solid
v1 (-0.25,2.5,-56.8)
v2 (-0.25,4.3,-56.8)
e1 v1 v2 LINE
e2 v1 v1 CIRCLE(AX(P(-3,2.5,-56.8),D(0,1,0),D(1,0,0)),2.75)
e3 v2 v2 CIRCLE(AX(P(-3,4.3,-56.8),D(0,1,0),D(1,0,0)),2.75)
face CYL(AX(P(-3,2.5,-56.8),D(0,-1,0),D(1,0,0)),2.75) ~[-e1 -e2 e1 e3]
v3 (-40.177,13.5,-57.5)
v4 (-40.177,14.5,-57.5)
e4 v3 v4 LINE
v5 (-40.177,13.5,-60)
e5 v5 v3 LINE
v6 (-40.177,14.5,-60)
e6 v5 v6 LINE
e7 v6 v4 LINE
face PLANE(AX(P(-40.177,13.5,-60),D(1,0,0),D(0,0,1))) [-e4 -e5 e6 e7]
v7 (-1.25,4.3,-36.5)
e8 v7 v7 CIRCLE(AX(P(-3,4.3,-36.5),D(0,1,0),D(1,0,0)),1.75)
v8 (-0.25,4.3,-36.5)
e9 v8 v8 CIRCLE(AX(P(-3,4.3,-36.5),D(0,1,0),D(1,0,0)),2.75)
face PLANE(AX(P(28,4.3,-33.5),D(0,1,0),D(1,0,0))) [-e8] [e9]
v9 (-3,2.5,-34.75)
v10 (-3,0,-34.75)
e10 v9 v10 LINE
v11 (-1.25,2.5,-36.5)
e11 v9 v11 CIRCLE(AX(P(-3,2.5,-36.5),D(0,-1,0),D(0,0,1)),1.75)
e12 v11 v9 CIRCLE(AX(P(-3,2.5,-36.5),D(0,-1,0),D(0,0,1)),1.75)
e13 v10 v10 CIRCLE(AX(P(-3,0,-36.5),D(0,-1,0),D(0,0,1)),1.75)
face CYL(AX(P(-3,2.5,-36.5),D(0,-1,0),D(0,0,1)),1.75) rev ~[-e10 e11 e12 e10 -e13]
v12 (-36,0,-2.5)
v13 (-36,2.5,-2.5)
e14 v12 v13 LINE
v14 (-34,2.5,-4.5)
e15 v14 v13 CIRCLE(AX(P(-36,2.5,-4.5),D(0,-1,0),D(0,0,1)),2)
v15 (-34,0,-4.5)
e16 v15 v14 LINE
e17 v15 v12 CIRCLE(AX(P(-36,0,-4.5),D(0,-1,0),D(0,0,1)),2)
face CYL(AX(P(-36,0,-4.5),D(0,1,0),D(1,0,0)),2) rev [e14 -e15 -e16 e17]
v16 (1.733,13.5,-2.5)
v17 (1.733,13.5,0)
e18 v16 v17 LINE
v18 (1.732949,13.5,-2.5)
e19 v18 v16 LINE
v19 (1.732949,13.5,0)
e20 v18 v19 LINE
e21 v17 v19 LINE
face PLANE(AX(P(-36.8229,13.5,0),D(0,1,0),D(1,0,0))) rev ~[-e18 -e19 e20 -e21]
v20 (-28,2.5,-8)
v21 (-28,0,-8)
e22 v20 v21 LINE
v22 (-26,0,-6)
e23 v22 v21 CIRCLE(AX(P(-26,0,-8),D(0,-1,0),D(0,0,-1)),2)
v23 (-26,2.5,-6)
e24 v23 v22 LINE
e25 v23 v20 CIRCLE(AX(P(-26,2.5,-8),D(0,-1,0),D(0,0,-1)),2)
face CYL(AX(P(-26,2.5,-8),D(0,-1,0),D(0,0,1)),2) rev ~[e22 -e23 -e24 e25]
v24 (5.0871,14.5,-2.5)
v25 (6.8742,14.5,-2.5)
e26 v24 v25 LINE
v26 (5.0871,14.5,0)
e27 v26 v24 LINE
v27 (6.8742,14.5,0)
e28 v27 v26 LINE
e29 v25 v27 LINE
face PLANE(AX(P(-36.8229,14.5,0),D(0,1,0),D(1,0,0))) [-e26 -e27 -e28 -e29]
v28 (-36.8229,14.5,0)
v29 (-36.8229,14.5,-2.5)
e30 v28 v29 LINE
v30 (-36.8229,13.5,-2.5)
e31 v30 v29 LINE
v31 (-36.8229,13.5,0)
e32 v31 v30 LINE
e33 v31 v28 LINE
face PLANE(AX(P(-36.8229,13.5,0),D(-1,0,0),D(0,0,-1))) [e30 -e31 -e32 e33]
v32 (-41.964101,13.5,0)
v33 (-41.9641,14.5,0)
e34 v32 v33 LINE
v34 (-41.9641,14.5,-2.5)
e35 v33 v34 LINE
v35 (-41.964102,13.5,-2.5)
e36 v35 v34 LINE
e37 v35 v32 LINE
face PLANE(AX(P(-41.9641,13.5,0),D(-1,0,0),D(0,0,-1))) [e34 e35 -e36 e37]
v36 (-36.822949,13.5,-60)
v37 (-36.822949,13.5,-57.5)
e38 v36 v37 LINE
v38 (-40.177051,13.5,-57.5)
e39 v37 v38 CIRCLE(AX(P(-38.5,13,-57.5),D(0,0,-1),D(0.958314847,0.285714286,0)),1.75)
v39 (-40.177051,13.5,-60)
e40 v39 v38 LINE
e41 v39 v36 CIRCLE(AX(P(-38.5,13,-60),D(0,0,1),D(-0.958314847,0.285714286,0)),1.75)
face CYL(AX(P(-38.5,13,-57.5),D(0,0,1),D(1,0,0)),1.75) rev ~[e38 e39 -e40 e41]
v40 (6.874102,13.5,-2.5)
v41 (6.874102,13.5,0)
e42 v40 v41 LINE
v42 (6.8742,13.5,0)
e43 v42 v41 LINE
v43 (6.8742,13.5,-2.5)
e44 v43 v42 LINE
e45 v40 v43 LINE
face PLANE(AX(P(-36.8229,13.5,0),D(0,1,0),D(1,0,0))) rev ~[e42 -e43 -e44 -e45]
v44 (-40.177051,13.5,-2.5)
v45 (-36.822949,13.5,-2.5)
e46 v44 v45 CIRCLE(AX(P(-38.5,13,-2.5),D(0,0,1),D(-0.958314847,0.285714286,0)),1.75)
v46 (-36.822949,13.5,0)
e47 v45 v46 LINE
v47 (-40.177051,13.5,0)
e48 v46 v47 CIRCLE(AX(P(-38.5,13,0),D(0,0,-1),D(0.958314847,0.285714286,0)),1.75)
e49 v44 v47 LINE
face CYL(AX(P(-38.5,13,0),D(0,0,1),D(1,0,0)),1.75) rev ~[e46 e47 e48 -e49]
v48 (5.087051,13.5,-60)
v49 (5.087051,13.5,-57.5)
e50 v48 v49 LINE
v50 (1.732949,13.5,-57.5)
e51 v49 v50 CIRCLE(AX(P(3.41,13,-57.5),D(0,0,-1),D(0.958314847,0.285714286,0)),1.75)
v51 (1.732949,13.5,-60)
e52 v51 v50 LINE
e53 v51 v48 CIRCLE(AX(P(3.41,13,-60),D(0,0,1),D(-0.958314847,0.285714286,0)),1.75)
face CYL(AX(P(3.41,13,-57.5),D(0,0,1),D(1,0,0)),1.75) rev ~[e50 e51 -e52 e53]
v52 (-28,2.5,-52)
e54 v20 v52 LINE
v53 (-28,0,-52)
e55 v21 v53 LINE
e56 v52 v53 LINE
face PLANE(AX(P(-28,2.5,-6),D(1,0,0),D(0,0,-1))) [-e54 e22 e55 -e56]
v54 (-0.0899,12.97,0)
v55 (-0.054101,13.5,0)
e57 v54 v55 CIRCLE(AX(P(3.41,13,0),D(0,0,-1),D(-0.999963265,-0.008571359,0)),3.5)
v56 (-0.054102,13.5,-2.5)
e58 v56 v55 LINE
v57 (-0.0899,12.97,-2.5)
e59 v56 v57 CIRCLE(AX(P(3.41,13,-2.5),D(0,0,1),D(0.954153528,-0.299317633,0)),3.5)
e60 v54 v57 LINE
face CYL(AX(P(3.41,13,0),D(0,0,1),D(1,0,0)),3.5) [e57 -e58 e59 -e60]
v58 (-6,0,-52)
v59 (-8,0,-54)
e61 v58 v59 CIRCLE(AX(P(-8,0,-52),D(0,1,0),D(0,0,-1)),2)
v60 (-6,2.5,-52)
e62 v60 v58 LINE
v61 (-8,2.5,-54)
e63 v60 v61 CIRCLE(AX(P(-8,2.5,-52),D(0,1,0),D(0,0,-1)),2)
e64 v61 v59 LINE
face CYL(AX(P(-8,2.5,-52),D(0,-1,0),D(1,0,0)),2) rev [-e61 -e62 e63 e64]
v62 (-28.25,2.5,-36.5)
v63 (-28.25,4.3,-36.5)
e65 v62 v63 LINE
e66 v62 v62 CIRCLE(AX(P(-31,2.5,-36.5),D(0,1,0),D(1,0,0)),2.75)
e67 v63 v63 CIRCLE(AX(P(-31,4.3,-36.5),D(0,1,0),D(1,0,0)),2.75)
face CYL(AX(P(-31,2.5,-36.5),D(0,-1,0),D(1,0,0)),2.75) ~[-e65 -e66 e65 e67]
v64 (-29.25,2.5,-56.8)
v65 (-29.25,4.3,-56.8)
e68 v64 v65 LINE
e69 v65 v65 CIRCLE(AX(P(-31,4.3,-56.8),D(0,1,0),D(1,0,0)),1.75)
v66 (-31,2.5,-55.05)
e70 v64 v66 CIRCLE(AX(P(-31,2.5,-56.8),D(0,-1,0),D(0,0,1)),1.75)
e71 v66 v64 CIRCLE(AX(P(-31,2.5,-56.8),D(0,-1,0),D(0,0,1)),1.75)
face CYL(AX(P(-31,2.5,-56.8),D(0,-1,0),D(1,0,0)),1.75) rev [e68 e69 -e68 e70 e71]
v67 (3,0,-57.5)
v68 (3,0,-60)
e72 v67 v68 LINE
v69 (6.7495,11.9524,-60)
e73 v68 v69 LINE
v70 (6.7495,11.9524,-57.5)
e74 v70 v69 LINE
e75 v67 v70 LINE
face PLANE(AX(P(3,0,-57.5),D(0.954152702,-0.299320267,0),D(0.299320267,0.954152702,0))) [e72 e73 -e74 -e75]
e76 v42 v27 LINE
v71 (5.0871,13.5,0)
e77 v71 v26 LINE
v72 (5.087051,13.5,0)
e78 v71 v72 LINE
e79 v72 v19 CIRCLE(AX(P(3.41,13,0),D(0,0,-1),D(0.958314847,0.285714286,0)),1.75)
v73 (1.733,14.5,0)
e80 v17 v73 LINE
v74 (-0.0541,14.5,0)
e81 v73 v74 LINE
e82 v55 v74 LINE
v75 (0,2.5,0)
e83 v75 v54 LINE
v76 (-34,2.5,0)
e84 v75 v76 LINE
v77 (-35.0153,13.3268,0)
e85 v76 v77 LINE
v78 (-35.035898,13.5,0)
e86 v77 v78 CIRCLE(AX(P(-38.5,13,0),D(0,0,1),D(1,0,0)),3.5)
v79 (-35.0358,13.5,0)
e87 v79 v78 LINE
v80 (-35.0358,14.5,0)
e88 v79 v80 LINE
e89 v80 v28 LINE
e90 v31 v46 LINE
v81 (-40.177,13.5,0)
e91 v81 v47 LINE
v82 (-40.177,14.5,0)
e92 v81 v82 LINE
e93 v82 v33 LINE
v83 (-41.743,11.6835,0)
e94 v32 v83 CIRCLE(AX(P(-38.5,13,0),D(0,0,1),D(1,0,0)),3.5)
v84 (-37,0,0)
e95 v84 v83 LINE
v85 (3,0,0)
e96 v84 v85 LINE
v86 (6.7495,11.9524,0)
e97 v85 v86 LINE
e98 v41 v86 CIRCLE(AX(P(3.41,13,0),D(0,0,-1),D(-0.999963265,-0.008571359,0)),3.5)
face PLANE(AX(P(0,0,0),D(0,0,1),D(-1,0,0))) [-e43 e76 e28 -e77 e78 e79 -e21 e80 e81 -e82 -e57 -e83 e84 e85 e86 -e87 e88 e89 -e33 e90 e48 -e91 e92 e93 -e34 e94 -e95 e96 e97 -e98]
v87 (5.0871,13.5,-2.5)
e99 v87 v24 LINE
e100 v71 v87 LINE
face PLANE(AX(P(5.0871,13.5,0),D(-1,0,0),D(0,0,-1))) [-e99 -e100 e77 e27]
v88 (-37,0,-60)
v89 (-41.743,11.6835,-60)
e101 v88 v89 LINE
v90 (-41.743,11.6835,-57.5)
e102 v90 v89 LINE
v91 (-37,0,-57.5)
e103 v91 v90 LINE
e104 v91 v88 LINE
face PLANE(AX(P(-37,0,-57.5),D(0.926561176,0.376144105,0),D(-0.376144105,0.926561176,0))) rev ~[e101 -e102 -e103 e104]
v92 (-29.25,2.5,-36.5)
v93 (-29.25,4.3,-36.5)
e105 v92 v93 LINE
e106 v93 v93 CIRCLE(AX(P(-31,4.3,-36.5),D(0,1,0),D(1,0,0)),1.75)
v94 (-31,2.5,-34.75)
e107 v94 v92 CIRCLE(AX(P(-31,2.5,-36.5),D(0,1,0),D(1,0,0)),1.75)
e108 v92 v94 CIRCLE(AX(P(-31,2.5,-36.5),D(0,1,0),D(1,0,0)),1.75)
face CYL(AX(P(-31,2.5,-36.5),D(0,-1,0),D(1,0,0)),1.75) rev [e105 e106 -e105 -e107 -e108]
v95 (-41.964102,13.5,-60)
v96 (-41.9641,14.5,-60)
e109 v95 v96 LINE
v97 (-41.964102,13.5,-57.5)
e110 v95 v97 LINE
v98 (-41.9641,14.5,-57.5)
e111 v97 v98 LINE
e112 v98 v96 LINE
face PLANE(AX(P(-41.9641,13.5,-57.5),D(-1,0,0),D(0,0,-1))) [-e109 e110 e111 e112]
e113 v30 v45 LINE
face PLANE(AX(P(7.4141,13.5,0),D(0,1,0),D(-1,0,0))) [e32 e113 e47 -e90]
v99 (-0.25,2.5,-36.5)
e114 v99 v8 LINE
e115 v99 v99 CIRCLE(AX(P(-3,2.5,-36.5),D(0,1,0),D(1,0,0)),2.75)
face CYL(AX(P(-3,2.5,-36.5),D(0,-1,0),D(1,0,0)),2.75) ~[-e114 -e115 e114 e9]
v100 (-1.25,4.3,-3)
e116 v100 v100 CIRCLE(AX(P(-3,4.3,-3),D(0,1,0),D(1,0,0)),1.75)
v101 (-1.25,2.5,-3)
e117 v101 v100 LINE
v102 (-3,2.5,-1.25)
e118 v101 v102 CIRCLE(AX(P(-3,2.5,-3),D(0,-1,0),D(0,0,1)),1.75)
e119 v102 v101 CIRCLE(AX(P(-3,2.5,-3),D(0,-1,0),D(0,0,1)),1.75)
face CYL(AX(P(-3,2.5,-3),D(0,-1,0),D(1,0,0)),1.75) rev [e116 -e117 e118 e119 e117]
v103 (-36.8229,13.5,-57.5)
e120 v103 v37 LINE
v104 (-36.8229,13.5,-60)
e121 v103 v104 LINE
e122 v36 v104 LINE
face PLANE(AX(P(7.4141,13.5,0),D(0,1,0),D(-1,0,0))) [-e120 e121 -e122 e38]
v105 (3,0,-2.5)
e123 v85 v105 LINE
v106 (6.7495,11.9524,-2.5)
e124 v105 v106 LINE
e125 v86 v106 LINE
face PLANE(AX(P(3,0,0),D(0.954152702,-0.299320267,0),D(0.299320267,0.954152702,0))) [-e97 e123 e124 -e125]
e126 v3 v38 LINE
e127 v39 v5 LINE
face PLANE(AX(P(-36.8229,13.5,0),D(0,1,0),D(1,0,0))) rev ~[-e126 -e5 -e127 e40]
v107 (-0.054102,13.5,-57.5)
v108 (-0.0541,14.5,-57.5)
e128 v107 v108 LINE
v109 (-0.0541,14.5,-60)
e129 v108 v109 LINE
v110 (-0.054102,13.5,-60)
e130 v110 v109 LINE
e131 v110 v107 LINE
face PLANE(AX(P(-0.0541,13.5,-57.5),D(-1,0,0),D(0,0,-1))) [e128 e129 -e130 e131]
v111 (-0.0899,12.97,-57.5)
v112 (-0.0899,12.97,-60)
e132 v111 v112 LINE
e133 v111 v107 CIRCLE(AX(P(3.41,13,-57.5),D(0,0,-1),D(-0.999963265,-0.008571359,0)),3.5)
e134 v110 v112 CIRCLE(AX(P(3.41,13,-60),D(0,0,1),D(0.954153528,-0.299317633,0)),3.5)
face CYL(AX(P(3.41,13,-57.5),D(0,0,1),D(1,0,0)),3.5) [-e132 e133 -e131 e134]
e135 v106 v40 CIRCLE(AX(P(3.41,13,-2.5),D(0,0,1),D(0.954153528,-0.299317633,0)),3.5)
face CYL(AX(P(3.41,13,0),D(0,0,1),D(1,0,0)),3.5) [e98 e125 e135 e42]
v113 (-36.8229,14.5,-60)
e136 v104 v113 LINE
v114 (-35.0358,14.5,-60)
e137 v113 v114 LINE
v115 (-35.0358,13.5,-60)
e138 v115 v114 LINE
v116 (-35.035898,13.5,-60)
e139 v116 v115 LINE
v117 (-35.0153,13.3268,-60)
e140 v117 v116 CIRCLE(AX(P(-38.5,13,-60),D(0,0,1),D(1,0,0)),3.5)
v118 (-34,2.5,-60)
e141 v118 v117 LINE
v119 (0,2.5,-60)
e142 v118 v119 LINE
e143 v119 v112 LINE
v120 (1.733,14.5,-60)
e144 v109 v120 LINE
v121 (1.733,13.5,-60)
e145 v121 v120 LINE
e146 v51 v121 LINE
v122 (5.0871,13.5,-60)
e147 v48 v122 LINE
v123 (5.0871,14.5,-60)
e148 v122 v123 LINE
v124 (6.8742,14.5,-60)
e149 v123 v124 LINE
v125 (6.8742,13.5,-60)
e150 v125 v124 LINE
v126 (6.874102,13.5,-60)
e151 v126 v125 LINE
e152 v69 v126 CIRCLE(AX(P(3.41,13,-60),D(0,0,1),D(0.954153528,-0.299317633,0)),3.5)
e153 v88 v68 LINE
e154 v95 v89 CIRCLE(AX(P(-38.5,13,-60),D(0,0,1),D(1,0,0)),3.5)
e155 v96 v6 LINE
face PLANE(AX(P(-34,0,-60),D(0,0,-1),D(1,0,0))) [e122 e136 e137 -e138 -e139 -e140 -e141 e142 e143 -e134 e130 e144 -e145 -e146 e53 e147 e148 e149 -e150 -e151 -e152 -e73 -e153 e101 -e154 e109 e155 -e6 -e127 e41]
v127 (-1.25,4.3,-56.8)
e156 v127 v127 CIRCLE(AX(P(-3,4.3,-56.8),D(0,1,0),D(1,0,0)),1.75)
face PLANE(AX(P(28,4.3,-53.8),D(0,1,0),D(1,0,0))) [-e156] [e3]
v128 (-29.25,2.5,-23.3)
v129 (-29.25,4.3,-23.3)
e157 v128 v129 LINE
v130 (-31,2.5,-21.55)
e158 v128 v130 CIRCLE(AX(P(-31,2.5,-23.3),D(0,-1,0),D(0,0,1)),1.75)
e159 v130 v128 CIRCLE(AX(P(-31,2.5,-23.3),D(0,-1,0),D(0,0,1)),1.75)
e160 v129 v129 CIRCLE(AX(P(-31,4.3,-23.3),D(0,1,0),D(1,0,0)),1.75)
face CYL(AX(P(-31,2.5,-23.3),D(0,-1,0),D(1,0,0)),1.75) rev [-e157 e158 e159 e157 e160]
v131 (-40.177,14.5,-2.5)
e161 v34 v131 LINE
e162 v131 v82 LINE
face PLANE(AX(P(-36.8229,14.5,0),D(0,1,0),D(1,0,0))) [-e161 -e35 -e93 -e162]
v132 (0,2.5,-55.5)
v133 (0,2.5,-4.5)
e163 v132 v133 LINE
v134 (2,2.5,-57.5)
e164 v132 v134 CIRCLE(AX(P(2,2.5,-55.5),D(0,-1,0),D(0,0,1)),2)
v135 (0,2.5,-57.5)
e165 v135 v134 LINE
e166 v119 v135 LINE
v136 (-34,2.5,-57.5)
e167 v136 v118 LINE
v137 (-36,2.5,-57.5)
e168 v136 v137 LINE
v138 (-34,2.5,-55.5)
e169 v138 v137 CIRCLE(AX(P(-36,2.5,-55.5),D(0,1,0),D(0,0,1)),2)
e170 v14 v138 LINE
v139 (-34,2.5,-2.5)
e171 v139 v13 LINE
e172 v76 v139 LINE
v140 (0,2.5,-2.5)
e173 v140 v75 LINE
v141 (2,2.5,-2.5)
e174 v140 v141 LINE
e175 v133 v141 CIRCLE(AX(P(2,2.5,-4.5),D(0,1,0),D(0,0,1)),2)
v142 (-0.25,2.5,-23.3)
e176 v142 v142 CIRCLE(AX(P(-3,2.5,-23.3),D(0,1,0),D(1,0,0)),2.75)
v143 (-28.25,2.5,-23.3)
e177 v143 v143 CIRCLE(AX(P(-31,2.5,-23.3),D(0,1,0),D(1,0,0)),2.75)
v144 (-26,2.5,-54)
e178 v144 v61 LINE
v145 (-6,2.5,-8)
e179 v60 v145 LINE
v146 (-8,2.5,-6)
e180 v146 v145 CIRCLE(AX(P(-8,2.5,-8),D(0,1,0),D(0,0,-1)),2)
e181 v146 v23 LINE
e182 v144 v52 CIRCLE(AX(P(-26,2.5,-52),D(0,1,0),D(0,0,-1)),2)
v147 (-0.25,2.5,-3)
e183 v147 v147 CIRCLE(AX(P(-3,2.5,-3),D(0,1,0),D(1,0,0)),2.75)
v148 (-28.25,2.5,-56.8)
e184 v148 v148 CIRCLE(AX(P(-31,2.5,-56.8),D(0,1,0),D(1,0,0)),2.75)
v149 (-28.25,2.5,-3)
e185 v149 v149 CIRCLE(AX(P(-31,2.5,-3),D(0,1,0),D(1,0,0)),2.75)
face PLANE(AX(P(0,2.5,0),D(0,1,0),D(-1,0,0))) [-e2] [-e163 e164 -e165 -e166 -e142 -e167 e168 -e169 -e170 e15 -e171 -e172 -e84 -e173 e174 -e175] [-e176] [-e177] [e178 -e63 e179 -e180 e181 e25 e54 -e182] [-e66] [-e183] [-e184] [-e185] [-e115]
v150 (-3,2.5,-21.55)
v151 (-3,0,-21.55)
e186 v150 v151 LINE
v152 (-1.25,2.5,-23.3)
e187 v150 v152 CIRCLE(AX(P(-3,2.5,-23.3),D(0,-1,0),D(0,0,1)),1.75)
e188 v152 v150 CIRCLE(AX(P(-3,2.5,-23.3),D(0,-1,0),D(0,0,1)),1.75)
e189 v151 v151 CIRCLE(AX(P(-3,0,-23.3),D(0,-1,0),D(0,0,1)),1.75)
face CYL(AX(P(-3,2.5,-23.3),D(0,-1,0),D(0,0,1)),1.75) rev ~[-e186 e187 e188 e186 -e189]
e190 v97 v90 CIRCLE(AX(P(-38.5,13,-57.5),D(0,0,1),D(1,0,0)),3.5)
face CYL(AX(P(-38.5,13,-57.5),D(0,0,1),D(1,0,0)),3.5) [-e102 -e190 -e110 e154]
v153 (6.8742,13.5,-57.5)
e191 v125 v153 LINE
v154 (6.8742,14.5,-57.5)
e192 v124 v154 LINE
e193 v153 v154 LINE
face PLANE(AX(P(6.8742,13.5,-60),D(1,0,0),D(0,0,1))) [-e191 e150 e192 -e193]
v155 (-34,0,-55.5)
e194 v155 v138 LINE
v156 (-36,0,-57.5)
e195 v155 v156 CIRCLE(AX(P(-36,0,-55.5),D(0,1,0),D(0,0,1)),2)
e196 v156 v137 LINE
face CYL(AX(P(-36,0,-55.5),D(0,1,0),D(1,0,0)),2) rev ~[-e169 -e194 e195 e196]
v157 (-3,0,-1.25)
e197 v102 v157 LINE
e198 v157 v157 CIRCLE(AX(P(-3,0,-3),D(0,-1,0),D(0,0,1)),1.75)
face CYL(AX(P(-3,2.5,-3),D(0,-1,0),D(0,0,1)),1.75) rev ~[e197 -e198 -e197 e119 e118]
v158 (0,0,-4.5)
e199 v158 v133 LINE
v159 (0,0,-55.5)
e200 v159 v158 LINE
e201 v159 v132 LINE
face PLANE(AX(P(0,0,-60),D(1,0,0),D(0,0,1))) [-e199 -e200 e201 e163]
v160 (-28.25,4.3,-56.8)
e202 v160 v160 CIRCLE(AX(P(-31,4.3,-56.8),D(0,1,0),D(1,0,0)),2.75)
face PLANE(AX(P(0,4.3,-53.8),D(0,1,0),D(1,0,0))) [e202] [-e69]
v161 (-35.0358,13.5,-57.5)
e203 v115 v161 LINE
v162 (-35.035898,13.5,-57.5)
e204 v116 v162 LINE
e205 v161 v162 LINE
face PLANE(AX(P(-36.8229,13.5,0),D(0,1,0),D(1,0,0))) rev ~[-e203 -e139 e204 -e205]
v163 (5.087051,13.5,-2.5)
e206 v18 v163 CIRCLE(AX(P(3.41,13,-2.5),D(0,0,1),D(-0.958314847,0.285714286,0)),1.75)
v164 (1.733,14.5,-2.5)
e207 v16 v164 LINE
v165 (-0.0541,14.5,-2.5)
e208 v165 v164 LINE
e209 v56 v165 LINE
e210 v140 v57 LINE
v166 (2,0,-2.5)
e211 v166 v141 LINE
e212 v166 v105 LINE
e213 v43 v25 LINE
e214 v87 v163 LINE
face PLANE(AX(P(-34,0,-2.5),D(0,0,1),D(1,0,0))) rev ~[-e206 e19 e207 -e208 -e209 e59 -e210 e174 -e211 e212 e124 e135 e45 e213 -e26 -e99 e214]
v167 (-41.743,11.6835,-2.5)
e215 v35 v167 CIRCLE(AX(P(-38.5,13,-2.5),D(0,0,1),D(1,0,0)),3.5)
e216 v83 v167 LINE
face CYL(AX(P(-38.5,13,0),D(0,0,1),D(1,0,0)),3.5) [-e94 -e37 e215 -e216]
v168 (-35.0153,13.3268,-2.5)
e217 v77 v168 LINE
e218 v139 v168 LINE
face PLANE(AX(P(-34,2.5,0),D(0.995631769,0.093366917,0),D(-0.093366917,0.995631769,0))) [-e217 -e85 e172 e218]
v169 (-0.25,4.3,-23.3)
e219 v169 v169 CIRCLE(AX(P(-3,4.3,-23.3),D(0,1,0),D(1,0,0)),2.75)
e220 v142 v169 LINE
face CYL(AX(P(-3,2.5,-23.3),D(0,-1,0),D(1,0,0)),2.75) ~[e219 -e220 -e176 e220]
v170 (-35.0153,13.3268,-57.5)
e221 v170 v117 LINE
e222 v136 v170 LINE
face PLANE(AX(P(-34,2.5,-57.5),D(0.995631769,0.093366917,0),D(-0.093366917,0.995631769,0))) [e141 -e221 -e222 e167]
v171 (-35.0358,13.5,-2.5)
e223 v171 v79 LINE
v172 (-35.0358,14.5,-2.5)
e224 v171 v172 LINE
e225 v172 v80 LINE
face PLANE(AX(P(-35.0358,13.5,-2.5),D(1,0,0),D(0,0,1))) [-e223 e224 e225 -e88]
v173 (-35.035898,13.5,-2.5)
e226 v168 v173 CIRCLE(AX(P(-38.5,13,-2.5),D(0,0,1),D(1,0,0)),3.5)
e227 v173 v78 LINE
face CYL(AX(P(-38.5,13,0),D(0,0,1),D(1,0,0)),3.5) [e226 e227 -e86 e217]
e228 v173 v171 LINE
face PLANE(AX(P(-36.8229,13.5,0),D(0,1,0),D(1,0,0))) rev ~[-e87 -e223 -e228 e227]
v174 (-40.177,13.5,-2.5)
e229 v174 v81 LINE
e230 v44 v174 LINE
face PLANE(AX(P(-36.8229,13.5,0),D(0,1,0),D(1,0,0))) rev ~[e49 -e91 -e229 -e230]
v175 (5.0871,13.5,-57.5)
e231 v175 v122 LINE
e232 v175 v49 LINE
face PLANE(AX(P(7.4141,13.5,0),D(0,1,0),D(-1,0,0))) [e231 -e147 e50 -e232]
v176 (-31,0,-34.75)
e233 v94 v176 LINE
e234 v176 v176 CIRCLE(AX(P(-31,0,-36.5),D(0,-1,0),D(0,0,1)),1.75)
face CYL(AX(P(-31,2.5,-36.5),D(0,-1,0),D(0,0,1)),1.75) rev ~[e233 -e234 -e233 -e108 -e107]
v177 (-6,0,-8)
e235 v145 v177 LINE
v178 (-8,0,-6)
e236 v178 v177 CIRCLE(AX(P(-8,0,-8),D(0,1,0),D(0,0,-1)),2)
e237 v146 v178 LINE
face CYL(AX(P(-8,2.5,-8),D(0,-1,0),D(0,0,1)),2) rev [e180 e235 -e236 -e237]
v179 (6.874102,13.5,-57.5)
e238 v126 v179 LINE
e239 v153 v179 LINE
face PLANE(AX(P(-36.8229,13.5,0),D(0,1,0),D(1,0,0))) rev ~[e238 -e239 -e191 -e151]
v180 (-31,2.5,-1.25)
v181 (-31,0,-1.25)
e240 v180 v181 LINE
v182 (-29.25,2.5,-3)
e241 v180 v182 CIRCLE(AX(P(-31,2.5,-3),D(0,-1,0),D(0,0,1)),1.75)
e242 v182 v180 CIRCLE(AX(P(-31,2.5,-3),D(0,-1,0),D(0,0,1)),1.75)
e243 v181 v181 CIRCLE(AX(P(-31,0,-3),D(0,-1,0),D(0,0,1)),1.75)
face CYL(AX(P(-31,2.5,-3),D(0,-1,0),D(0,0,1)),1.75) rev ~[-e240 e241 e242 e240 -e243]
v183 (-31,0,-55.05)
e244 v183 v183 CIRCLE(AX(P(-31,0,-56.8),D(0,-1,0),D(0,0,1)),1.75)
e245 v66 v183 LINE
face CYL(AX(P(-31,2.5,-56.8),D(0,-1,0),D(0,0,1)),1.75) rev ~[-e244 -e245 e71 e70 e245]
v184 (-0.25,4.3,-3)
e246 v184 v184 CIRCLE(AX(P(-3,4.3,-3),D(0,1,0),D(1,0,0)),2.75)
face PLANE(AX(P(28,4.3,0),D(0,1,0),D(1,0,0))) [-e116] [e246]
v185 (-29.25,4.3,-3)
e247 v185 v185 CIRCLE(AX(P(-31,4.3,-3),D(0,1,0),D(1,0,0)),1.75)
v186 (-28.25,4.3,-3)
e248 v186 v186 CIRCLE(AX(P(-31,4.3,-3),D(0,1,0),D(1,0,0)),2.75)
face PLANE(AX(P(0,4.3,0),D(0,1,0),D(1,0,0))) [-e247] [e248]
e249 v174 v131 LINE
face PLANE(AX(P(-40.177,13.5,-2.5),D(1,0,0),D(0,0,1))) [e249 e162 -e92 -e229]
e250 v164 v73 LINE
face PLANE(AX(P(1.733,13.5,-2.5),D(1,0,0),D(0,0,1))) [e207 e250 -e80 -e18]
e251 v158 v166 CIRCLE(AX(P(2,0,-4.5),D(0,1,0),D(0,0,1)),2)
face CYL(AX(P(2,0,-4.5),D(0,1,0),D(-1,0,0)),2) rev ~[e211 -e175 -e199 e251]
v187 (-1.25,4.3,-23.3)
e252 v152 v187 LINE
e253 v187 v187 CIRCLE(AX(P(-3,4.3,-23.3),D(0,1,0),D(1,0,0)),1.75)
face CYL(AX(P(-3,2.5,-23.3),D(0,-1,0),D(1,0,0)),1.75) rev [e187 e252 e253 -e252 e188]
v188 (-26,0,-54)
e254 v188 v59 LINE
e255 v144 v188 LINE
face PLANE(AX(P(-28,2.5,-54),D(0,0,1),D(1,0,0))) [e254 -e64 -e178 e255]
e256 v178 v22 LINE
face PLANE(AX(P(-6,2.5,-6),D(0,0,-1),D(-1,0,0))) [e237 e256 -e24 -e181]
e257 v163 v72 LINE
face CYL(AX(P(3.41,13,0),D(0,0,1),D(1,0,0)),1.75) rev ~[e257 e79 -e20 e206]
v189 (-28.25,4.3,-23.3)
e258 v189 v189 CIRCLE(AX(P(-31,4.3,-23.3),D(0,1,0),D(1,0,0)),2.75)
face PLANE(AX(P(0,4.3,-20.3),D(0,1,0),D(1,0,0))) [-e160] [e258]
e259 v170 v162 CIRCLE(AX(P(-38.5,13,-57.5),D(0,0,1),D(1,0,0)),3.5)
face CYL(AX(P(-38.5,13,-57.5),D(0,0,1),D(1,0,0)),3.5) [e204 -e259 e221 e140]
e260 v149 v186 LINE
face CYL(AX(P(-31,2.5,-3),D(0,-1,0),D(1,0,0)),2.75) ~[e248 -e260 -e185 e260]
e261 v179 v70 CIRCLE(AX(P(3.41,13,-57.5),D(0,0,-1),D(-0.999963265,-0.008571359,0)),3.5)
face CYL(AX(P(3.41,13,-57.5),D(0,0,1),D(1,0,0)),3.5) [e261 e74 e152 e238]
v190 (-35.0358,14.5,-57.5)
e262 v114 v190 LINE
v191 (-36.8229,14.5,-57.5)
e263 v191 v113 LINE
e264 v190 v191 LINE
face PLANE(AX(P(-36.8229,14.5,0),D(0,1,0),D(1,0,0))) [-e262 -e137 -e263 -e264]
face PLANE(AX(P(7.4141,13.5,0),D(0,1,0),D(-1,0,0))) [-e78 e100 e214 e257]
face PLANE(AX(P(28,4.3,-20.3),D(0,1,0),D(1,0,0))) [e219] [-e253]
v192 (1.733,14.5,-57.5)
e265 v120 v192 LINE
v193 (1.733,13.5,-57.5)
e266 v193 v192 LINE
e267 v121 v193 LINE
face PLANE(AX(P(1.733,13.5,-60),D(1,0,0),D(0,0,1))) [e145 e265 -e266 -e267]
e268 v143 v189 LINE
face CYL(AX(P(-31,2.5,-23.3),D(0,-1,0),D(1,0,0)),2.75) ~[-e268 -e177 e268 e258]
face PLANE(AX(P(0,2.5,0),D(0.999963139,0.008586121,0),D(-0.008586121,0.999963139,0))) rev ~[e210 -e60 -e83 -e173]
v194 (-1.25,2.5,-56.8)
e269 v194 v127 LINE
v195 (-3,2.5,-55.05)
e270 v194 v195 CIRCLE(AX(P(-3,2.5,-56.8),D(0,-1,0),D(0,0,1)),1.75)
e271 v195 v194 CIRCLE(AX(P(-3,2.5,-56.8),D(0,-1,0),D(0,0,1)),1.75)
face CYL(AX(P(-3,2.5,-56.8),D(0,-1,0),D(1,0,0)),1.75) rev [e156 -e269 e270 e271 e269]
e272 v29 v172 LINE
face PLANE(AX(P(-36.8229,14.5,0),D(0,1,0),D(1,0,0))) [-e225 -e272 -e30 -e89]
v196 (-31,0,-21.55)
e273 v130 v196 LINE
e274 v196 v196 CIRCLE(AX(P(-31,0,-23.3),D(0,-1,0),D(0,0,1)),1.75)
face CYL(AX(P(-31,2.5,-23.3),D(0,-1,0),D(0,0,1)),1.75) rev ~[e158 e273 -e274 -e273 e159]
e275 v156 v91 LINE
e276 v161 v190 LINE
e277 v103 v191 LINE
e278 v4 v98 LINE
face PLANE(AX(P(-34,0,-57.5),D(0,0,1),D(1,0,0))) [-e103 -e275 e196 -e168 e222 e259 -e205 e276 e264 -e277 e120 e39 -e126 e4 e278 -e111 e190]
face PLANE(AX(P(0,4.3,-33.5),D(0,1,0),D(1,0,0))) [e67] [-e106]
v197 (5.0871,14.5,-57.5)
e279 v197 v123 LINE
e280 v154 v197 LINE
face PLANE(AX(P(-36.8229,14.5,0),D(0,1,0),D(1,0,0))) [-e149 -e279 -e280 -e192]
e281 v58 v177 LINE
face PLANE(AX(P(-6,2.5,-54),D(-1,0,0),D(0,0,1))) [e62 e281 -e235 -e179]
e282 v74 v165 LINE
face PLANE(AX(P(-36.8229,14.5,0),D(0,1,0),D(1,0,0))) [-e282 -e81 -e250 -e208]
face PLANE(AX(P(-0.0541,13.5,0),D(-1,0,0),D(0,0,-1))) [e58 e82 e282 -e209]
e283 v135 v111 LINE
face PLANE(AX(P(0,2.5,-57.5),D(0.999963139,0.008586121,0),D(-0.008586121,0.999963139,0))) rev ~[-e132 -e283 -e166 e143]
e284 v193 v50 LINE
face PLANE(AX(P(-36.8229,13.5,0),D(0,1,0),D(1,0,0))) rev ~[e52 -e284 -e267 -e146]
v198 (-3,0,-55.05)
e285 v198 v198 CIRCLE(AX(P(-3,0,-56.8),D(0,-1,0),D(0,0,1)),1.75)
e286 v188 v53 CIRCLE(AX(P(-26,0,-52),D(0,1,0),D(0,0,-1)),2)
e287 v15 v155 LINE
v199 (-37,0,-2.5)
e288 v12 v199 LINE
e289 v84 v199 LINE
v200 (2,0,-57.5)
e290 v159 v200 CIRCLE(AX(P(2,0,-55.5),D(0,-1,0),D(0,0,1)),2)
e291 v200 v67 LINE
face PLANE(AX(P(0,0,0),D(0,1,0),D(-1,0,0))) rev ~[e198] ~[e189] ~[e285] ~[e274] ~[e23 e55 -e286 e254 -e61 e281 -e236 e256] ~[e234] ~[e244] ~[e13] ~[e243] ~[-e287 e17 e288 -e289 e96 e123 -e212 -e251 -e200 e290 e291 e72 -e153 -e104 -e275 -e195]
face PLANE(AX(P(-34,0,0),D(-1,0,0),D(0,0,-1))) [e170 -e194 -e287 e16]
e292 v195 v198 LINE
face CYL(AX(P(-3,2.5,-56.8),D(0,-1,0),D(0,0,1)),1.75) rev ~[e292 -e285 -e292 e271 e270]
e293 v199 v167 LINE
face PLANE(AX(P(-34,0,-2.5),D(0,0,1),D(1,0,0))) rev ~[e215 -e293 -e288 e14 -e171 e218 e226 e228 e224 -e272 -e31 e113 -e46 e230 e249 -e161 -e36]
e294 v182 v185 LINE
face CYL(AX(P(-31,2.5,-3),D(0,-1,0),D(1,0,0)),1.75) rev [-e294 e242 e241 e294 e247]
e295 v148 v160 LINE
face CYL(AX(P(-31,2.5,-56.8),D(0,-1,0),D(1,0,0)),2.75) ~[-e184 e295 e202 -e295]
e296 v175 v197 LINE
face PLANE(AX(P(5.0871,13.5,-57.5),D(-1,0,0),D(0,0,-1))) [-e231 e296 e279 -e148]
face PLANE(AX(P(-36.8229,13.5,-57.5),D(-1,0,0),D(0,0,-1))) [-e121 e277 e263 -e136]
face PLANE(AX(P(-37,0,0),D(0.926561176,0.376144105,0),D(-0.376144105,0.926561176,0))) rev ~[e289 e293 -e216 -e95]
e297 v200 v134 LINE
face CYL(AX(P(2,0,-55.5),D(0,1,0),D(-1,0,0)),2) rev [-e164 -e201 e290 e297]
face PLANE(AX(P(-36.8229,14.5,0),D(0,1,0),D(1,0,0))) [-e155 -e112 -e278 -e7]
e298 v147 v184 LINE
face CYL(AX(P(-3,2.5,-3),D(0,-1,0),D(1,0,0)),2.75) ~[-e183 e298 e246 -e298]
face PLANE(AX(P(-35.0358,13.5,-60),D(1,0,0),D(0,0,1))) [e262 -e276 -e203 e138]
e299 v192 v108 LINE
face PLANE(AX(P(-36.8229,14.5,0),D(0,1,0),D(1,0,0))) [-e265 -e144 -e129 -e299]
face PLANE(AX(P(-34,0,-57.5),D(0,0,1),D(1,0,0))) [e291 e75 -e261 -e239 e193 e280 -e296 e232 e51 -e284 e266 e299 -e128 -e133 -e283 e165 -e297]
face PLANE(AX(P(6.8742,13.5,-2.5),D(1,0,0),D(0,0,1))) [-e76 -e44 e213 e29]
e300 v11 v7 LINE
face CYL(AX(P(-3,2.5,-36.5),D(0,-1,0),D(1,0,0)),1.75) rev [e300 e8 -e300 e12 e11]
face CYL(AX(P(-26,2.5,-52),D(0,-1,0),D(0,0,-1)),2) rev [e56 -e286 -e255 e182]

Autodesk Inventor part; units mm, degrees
ref_plane "YZ Plane" through (0, 0, 0) normal (1, 0, 0) x (0, 1, 0)
ref_plane "XZ Plane" through (0, 0, 0) normal (0, 1, 0) x (-1, 0, 0)
ref_plane "XY Plane" through (0, 0, 0) normal (0, 0, 1) x (1, 0, 0)
sketch "Sketch1" plane through (0, 0, 0) normal (0, 1, 0) x (-1, 0, 0)
  line L0 (0, 0) -> (34, 0)
  line L1 (34, 0) -> (34, -60)
  line L2 (34, -60) -> (0, -60)
  line L3 (0, -60) -> (0, 0)
  dimension "d0" = 34
  dimension "d1" = 60
extrude "Extrusion1" add sketch "Sketch1" along normal blind 2.5
sketch "Sketch4" plane through (-34, 0, 0) normal (0, 0, 1) x (1, 0, 0)
  circle A0 centre (-4.5, 13) radius 1.75
  circle A1 centre (-4.5, 13) radius 3.5
  circle A2 centre (37.41, 13) radius 1.75
  circle A3 centre (37.41, 13) radius 3.5
  line L0 (0, 0) -> (0, 2.5) projected
  line L1 (0, 2.5) -> (34, 2.5) projected
  line L2 (0, 2.5) -> (-1.0153, 13.3268)
  line L3 (34, 0) -> (0, 0) projected
  line L4 (0, 0) -> (-3, 0)
  line L5 (-3, 0) -> (-7.743, 11.6835)
  line L6 (34, 2.5) -> (33.9101, 12.97)
  line L7 (34, 0) -> (37, 0)
  line L8 (37, 0) -> (40.7495, 11.9524)
  line L9 (34, 0) -> (34, 2.5) projected
  line L10 (34, 2.5) -> (34, 0)
  dimension "d4" = 3.5
  dimension "d5" = 7
  dimension "d6" = 4.5
  dimension "d7" = 41.91
  dimension "d8" = 10.5
  dimension "d9" = 3
  dimension "d10" = 3
extrude "Extrusion2" add sketch "Sketch4" against normal blind 2.5 contours A1 | A1 L2 L0 L4 L5 | L6 A3 L8 L7 L9 | A3
pattern_linear "Rectangular Pattern1" count 2 spacing 57.5 along (0, 0, -1) of "Extrusion2"
hole "Hole1" at (-31, 2.5, -3) direction (0, -1, 0) diameter 3.5 end through all
sketch "Sketch7" plane through (0, 2.5, 0) normal (0, 1, 0) x (1, 0, 0)
  circle A0 centre (-31, 3) radius 1.75 projected
  circle A1 centre (-31, 3) radius 2.75
  point P0 (0, 0)
  dimension "d37" = 5.5
extrude "Extrusion3" add sketch "Sketch7" along normal blind 1.8
pattern_linear "Rectangular Pattern2" count 2 spacing 28 along (1, 0, 0) count 2 spacing 20.3 along (0, 0, -1) of "Hole1", "Extrusion3"
pattern_linear "Rectangular Pattern3" count 2 spacing 33.5 along (0, 0, -1) of "Rectangular Pattern2", "Extrusion3", "Hole1"
sketch "Sketch8" plane through (0, 2.5, 0) normal (0, 1, 0) x (1, 0, 0)
  circle A0 centre (-3, 56.8) radius 2.75 projected
  circle A1 centre (-31, 56.8) radius 2.75 projected
  circle A2 centre (-3, 36.5) radius 2.75 projected
  circle A3 centre (-31, 36.5) radius 2.75 projected
  circle A4 centre (-3, 23.3) radius 2.75 projected
  circle A5 centre (-31, 23.3) radius 2.75 projected
  circle A6 centre (-3, 3) radius 2.75 projected
  circle A7 centre (-31, 3) radius 2.75 projected
  line L0 (-34, 0) -> (0, 0) projected
  line L1 (0, 0) -> (0, 2.5) projected
  line L2 (0, 2.5) -> (0, 57.5) projected
  line L3 (0, 57.5) -> (0, 60) projected
  line L4 (0, 60) -> (-34, 60) projected
  line L5 (-34, 60) -> (-34, 57.5) projected
  line L6 (-34, 57.5) -> (-34, 2.5) projected
  line L7 (-34, 2.5) -> (-34, 0) projected
  line L8 (-28, 6) -> (-28, 54)
  line L9 (-28, 54) -> (-6, 54)
  line L10 (-6, 54) -> (-6, 6)
  line L11 (-6, 6) -> (-28, 6)
  dimension "d48" = 6
extrude "Extrusion4" cut sketch "Sketch8" against normal through all contours L8 L9 L10 L11
fillet "Fillet1" radius 2 8 edges at (-34, 1.25, -2.5) (-34, 1.25, -57.5) (0, 1.25, -57.5) (0, 1.25, -2.5) (-6, 1.25, -6) (-28, 1.25, -6) (-28, 1.25, -54) (-6, 1.25, -54)
sketch "Sketch9" plane through (-37, 0, 0) normal (0, 0, 1) x (1, 0, 0)
  circle A0 centre (-1.5, 13) radius 1.75 construction
  line L0 (-7.7139, 20.5221) -> (44.4141, 20.5221)
  line L1 (44.4141, 20.5221) -> (44.4141, 13.5)
  line L2 (44.4141, 13.5) -> (-7.7139, 13.5)
  line L3 (-7.7139, 13.5) -> (-7.7139, 20.5221)
  point P0 (37, 0)
extrude "Extrusion5" cut sketch "Sketch9" against normal through all
sketch "Sketch11" plane through (-36.8229, 13.5, 0) normal (0, 1, 0) x (1, 0, 0)
  line L0 (-3.3541, 2.5) -> (-3.3541, 0) projected
  line L1 (-5.1412, 2.5) -> (-3.3541, 2.5) projected
  line L2 (-5.1412, 0) -> (-5.1412, 2.5) projected
  line L3 (-3.3541, 0) -> (-5.1412, 0) projected
  line L4 (0, 0) -> (0, 2.5) projected
  line L5 (1.7871, 0) -> (0, 0) projected
  line L6 (1.7871, 2.5) -> (1.7871, 0) projected
  line L7 (0, 2.5) -> (1.7871, 2.5) projected
  line L8 (-3.3541, 57.5) -> (-5.1412, 57.5) projected
  line L9 (-3.3541, 60) -> (-3.3541, 57.5) projected
  line L10 (-5.1412, 60) -> (-3.3541, 60) projected
  line L11 (-5.1412, 57.5) -> (-5.1412, 60) projected
  line L12 (1.7871, 57.5) -> (0, 57.5) projected
  line L13 (1.7871, 60) -> (1.7871, 57.5) projected
  line L14 (0, 60) -> (1.7871, 60) projected
  line L15 (0, 57.5) -> (0, 60) projected
  line L16 (36.7688, 57.5) -> (36.7688, 60) projected
  line L17 (38.5559, 57.5) -> (36.7688, 57.5) projected
  line L18 (38.5559, 60) -> (38.5559, 57.5) projected
  line L19 (36.7688, 60) -> (38.5559, 60) projected
  line L20 (43.6971, 60) -> (43.6971, 57.5) projected
  line L21 (41.91, 60) -> (43.6971, 60) projected
  line L22 (41.91, 57.5) -> (41.91, 60) projected
  line L23 (43.6971, 57.5) -> (41.91, 57.5) projected
  line L24 (36.7688, 0) -> (36.7688, 2.5) projected
  line L25 (38.5559, 0) -> (36.7688, 0) projected
  line L26 (38.5559, 2.5) -> (38.5559, 0) projected
  line L27 (36.7688, 2.5) -> (38.5559, 2.5) projected
  line L28 (43.6971, 2.5) -> (43.6971, 0) projected
  line L29 (41.91, 2.5) -> (43.6971, 2.5) projected
  line L30 (41.91, 0) -> (41.91, 2.5) projected
  line L31 (43.6971, 0) -> (41.91, 0) projected
  point P0 (36.8229, 0)
extrude "Extrusion7" add sketch "Sketch11" along normal blind 1
properties part number "RelayHolderREV2" material "ABS Plastic"
